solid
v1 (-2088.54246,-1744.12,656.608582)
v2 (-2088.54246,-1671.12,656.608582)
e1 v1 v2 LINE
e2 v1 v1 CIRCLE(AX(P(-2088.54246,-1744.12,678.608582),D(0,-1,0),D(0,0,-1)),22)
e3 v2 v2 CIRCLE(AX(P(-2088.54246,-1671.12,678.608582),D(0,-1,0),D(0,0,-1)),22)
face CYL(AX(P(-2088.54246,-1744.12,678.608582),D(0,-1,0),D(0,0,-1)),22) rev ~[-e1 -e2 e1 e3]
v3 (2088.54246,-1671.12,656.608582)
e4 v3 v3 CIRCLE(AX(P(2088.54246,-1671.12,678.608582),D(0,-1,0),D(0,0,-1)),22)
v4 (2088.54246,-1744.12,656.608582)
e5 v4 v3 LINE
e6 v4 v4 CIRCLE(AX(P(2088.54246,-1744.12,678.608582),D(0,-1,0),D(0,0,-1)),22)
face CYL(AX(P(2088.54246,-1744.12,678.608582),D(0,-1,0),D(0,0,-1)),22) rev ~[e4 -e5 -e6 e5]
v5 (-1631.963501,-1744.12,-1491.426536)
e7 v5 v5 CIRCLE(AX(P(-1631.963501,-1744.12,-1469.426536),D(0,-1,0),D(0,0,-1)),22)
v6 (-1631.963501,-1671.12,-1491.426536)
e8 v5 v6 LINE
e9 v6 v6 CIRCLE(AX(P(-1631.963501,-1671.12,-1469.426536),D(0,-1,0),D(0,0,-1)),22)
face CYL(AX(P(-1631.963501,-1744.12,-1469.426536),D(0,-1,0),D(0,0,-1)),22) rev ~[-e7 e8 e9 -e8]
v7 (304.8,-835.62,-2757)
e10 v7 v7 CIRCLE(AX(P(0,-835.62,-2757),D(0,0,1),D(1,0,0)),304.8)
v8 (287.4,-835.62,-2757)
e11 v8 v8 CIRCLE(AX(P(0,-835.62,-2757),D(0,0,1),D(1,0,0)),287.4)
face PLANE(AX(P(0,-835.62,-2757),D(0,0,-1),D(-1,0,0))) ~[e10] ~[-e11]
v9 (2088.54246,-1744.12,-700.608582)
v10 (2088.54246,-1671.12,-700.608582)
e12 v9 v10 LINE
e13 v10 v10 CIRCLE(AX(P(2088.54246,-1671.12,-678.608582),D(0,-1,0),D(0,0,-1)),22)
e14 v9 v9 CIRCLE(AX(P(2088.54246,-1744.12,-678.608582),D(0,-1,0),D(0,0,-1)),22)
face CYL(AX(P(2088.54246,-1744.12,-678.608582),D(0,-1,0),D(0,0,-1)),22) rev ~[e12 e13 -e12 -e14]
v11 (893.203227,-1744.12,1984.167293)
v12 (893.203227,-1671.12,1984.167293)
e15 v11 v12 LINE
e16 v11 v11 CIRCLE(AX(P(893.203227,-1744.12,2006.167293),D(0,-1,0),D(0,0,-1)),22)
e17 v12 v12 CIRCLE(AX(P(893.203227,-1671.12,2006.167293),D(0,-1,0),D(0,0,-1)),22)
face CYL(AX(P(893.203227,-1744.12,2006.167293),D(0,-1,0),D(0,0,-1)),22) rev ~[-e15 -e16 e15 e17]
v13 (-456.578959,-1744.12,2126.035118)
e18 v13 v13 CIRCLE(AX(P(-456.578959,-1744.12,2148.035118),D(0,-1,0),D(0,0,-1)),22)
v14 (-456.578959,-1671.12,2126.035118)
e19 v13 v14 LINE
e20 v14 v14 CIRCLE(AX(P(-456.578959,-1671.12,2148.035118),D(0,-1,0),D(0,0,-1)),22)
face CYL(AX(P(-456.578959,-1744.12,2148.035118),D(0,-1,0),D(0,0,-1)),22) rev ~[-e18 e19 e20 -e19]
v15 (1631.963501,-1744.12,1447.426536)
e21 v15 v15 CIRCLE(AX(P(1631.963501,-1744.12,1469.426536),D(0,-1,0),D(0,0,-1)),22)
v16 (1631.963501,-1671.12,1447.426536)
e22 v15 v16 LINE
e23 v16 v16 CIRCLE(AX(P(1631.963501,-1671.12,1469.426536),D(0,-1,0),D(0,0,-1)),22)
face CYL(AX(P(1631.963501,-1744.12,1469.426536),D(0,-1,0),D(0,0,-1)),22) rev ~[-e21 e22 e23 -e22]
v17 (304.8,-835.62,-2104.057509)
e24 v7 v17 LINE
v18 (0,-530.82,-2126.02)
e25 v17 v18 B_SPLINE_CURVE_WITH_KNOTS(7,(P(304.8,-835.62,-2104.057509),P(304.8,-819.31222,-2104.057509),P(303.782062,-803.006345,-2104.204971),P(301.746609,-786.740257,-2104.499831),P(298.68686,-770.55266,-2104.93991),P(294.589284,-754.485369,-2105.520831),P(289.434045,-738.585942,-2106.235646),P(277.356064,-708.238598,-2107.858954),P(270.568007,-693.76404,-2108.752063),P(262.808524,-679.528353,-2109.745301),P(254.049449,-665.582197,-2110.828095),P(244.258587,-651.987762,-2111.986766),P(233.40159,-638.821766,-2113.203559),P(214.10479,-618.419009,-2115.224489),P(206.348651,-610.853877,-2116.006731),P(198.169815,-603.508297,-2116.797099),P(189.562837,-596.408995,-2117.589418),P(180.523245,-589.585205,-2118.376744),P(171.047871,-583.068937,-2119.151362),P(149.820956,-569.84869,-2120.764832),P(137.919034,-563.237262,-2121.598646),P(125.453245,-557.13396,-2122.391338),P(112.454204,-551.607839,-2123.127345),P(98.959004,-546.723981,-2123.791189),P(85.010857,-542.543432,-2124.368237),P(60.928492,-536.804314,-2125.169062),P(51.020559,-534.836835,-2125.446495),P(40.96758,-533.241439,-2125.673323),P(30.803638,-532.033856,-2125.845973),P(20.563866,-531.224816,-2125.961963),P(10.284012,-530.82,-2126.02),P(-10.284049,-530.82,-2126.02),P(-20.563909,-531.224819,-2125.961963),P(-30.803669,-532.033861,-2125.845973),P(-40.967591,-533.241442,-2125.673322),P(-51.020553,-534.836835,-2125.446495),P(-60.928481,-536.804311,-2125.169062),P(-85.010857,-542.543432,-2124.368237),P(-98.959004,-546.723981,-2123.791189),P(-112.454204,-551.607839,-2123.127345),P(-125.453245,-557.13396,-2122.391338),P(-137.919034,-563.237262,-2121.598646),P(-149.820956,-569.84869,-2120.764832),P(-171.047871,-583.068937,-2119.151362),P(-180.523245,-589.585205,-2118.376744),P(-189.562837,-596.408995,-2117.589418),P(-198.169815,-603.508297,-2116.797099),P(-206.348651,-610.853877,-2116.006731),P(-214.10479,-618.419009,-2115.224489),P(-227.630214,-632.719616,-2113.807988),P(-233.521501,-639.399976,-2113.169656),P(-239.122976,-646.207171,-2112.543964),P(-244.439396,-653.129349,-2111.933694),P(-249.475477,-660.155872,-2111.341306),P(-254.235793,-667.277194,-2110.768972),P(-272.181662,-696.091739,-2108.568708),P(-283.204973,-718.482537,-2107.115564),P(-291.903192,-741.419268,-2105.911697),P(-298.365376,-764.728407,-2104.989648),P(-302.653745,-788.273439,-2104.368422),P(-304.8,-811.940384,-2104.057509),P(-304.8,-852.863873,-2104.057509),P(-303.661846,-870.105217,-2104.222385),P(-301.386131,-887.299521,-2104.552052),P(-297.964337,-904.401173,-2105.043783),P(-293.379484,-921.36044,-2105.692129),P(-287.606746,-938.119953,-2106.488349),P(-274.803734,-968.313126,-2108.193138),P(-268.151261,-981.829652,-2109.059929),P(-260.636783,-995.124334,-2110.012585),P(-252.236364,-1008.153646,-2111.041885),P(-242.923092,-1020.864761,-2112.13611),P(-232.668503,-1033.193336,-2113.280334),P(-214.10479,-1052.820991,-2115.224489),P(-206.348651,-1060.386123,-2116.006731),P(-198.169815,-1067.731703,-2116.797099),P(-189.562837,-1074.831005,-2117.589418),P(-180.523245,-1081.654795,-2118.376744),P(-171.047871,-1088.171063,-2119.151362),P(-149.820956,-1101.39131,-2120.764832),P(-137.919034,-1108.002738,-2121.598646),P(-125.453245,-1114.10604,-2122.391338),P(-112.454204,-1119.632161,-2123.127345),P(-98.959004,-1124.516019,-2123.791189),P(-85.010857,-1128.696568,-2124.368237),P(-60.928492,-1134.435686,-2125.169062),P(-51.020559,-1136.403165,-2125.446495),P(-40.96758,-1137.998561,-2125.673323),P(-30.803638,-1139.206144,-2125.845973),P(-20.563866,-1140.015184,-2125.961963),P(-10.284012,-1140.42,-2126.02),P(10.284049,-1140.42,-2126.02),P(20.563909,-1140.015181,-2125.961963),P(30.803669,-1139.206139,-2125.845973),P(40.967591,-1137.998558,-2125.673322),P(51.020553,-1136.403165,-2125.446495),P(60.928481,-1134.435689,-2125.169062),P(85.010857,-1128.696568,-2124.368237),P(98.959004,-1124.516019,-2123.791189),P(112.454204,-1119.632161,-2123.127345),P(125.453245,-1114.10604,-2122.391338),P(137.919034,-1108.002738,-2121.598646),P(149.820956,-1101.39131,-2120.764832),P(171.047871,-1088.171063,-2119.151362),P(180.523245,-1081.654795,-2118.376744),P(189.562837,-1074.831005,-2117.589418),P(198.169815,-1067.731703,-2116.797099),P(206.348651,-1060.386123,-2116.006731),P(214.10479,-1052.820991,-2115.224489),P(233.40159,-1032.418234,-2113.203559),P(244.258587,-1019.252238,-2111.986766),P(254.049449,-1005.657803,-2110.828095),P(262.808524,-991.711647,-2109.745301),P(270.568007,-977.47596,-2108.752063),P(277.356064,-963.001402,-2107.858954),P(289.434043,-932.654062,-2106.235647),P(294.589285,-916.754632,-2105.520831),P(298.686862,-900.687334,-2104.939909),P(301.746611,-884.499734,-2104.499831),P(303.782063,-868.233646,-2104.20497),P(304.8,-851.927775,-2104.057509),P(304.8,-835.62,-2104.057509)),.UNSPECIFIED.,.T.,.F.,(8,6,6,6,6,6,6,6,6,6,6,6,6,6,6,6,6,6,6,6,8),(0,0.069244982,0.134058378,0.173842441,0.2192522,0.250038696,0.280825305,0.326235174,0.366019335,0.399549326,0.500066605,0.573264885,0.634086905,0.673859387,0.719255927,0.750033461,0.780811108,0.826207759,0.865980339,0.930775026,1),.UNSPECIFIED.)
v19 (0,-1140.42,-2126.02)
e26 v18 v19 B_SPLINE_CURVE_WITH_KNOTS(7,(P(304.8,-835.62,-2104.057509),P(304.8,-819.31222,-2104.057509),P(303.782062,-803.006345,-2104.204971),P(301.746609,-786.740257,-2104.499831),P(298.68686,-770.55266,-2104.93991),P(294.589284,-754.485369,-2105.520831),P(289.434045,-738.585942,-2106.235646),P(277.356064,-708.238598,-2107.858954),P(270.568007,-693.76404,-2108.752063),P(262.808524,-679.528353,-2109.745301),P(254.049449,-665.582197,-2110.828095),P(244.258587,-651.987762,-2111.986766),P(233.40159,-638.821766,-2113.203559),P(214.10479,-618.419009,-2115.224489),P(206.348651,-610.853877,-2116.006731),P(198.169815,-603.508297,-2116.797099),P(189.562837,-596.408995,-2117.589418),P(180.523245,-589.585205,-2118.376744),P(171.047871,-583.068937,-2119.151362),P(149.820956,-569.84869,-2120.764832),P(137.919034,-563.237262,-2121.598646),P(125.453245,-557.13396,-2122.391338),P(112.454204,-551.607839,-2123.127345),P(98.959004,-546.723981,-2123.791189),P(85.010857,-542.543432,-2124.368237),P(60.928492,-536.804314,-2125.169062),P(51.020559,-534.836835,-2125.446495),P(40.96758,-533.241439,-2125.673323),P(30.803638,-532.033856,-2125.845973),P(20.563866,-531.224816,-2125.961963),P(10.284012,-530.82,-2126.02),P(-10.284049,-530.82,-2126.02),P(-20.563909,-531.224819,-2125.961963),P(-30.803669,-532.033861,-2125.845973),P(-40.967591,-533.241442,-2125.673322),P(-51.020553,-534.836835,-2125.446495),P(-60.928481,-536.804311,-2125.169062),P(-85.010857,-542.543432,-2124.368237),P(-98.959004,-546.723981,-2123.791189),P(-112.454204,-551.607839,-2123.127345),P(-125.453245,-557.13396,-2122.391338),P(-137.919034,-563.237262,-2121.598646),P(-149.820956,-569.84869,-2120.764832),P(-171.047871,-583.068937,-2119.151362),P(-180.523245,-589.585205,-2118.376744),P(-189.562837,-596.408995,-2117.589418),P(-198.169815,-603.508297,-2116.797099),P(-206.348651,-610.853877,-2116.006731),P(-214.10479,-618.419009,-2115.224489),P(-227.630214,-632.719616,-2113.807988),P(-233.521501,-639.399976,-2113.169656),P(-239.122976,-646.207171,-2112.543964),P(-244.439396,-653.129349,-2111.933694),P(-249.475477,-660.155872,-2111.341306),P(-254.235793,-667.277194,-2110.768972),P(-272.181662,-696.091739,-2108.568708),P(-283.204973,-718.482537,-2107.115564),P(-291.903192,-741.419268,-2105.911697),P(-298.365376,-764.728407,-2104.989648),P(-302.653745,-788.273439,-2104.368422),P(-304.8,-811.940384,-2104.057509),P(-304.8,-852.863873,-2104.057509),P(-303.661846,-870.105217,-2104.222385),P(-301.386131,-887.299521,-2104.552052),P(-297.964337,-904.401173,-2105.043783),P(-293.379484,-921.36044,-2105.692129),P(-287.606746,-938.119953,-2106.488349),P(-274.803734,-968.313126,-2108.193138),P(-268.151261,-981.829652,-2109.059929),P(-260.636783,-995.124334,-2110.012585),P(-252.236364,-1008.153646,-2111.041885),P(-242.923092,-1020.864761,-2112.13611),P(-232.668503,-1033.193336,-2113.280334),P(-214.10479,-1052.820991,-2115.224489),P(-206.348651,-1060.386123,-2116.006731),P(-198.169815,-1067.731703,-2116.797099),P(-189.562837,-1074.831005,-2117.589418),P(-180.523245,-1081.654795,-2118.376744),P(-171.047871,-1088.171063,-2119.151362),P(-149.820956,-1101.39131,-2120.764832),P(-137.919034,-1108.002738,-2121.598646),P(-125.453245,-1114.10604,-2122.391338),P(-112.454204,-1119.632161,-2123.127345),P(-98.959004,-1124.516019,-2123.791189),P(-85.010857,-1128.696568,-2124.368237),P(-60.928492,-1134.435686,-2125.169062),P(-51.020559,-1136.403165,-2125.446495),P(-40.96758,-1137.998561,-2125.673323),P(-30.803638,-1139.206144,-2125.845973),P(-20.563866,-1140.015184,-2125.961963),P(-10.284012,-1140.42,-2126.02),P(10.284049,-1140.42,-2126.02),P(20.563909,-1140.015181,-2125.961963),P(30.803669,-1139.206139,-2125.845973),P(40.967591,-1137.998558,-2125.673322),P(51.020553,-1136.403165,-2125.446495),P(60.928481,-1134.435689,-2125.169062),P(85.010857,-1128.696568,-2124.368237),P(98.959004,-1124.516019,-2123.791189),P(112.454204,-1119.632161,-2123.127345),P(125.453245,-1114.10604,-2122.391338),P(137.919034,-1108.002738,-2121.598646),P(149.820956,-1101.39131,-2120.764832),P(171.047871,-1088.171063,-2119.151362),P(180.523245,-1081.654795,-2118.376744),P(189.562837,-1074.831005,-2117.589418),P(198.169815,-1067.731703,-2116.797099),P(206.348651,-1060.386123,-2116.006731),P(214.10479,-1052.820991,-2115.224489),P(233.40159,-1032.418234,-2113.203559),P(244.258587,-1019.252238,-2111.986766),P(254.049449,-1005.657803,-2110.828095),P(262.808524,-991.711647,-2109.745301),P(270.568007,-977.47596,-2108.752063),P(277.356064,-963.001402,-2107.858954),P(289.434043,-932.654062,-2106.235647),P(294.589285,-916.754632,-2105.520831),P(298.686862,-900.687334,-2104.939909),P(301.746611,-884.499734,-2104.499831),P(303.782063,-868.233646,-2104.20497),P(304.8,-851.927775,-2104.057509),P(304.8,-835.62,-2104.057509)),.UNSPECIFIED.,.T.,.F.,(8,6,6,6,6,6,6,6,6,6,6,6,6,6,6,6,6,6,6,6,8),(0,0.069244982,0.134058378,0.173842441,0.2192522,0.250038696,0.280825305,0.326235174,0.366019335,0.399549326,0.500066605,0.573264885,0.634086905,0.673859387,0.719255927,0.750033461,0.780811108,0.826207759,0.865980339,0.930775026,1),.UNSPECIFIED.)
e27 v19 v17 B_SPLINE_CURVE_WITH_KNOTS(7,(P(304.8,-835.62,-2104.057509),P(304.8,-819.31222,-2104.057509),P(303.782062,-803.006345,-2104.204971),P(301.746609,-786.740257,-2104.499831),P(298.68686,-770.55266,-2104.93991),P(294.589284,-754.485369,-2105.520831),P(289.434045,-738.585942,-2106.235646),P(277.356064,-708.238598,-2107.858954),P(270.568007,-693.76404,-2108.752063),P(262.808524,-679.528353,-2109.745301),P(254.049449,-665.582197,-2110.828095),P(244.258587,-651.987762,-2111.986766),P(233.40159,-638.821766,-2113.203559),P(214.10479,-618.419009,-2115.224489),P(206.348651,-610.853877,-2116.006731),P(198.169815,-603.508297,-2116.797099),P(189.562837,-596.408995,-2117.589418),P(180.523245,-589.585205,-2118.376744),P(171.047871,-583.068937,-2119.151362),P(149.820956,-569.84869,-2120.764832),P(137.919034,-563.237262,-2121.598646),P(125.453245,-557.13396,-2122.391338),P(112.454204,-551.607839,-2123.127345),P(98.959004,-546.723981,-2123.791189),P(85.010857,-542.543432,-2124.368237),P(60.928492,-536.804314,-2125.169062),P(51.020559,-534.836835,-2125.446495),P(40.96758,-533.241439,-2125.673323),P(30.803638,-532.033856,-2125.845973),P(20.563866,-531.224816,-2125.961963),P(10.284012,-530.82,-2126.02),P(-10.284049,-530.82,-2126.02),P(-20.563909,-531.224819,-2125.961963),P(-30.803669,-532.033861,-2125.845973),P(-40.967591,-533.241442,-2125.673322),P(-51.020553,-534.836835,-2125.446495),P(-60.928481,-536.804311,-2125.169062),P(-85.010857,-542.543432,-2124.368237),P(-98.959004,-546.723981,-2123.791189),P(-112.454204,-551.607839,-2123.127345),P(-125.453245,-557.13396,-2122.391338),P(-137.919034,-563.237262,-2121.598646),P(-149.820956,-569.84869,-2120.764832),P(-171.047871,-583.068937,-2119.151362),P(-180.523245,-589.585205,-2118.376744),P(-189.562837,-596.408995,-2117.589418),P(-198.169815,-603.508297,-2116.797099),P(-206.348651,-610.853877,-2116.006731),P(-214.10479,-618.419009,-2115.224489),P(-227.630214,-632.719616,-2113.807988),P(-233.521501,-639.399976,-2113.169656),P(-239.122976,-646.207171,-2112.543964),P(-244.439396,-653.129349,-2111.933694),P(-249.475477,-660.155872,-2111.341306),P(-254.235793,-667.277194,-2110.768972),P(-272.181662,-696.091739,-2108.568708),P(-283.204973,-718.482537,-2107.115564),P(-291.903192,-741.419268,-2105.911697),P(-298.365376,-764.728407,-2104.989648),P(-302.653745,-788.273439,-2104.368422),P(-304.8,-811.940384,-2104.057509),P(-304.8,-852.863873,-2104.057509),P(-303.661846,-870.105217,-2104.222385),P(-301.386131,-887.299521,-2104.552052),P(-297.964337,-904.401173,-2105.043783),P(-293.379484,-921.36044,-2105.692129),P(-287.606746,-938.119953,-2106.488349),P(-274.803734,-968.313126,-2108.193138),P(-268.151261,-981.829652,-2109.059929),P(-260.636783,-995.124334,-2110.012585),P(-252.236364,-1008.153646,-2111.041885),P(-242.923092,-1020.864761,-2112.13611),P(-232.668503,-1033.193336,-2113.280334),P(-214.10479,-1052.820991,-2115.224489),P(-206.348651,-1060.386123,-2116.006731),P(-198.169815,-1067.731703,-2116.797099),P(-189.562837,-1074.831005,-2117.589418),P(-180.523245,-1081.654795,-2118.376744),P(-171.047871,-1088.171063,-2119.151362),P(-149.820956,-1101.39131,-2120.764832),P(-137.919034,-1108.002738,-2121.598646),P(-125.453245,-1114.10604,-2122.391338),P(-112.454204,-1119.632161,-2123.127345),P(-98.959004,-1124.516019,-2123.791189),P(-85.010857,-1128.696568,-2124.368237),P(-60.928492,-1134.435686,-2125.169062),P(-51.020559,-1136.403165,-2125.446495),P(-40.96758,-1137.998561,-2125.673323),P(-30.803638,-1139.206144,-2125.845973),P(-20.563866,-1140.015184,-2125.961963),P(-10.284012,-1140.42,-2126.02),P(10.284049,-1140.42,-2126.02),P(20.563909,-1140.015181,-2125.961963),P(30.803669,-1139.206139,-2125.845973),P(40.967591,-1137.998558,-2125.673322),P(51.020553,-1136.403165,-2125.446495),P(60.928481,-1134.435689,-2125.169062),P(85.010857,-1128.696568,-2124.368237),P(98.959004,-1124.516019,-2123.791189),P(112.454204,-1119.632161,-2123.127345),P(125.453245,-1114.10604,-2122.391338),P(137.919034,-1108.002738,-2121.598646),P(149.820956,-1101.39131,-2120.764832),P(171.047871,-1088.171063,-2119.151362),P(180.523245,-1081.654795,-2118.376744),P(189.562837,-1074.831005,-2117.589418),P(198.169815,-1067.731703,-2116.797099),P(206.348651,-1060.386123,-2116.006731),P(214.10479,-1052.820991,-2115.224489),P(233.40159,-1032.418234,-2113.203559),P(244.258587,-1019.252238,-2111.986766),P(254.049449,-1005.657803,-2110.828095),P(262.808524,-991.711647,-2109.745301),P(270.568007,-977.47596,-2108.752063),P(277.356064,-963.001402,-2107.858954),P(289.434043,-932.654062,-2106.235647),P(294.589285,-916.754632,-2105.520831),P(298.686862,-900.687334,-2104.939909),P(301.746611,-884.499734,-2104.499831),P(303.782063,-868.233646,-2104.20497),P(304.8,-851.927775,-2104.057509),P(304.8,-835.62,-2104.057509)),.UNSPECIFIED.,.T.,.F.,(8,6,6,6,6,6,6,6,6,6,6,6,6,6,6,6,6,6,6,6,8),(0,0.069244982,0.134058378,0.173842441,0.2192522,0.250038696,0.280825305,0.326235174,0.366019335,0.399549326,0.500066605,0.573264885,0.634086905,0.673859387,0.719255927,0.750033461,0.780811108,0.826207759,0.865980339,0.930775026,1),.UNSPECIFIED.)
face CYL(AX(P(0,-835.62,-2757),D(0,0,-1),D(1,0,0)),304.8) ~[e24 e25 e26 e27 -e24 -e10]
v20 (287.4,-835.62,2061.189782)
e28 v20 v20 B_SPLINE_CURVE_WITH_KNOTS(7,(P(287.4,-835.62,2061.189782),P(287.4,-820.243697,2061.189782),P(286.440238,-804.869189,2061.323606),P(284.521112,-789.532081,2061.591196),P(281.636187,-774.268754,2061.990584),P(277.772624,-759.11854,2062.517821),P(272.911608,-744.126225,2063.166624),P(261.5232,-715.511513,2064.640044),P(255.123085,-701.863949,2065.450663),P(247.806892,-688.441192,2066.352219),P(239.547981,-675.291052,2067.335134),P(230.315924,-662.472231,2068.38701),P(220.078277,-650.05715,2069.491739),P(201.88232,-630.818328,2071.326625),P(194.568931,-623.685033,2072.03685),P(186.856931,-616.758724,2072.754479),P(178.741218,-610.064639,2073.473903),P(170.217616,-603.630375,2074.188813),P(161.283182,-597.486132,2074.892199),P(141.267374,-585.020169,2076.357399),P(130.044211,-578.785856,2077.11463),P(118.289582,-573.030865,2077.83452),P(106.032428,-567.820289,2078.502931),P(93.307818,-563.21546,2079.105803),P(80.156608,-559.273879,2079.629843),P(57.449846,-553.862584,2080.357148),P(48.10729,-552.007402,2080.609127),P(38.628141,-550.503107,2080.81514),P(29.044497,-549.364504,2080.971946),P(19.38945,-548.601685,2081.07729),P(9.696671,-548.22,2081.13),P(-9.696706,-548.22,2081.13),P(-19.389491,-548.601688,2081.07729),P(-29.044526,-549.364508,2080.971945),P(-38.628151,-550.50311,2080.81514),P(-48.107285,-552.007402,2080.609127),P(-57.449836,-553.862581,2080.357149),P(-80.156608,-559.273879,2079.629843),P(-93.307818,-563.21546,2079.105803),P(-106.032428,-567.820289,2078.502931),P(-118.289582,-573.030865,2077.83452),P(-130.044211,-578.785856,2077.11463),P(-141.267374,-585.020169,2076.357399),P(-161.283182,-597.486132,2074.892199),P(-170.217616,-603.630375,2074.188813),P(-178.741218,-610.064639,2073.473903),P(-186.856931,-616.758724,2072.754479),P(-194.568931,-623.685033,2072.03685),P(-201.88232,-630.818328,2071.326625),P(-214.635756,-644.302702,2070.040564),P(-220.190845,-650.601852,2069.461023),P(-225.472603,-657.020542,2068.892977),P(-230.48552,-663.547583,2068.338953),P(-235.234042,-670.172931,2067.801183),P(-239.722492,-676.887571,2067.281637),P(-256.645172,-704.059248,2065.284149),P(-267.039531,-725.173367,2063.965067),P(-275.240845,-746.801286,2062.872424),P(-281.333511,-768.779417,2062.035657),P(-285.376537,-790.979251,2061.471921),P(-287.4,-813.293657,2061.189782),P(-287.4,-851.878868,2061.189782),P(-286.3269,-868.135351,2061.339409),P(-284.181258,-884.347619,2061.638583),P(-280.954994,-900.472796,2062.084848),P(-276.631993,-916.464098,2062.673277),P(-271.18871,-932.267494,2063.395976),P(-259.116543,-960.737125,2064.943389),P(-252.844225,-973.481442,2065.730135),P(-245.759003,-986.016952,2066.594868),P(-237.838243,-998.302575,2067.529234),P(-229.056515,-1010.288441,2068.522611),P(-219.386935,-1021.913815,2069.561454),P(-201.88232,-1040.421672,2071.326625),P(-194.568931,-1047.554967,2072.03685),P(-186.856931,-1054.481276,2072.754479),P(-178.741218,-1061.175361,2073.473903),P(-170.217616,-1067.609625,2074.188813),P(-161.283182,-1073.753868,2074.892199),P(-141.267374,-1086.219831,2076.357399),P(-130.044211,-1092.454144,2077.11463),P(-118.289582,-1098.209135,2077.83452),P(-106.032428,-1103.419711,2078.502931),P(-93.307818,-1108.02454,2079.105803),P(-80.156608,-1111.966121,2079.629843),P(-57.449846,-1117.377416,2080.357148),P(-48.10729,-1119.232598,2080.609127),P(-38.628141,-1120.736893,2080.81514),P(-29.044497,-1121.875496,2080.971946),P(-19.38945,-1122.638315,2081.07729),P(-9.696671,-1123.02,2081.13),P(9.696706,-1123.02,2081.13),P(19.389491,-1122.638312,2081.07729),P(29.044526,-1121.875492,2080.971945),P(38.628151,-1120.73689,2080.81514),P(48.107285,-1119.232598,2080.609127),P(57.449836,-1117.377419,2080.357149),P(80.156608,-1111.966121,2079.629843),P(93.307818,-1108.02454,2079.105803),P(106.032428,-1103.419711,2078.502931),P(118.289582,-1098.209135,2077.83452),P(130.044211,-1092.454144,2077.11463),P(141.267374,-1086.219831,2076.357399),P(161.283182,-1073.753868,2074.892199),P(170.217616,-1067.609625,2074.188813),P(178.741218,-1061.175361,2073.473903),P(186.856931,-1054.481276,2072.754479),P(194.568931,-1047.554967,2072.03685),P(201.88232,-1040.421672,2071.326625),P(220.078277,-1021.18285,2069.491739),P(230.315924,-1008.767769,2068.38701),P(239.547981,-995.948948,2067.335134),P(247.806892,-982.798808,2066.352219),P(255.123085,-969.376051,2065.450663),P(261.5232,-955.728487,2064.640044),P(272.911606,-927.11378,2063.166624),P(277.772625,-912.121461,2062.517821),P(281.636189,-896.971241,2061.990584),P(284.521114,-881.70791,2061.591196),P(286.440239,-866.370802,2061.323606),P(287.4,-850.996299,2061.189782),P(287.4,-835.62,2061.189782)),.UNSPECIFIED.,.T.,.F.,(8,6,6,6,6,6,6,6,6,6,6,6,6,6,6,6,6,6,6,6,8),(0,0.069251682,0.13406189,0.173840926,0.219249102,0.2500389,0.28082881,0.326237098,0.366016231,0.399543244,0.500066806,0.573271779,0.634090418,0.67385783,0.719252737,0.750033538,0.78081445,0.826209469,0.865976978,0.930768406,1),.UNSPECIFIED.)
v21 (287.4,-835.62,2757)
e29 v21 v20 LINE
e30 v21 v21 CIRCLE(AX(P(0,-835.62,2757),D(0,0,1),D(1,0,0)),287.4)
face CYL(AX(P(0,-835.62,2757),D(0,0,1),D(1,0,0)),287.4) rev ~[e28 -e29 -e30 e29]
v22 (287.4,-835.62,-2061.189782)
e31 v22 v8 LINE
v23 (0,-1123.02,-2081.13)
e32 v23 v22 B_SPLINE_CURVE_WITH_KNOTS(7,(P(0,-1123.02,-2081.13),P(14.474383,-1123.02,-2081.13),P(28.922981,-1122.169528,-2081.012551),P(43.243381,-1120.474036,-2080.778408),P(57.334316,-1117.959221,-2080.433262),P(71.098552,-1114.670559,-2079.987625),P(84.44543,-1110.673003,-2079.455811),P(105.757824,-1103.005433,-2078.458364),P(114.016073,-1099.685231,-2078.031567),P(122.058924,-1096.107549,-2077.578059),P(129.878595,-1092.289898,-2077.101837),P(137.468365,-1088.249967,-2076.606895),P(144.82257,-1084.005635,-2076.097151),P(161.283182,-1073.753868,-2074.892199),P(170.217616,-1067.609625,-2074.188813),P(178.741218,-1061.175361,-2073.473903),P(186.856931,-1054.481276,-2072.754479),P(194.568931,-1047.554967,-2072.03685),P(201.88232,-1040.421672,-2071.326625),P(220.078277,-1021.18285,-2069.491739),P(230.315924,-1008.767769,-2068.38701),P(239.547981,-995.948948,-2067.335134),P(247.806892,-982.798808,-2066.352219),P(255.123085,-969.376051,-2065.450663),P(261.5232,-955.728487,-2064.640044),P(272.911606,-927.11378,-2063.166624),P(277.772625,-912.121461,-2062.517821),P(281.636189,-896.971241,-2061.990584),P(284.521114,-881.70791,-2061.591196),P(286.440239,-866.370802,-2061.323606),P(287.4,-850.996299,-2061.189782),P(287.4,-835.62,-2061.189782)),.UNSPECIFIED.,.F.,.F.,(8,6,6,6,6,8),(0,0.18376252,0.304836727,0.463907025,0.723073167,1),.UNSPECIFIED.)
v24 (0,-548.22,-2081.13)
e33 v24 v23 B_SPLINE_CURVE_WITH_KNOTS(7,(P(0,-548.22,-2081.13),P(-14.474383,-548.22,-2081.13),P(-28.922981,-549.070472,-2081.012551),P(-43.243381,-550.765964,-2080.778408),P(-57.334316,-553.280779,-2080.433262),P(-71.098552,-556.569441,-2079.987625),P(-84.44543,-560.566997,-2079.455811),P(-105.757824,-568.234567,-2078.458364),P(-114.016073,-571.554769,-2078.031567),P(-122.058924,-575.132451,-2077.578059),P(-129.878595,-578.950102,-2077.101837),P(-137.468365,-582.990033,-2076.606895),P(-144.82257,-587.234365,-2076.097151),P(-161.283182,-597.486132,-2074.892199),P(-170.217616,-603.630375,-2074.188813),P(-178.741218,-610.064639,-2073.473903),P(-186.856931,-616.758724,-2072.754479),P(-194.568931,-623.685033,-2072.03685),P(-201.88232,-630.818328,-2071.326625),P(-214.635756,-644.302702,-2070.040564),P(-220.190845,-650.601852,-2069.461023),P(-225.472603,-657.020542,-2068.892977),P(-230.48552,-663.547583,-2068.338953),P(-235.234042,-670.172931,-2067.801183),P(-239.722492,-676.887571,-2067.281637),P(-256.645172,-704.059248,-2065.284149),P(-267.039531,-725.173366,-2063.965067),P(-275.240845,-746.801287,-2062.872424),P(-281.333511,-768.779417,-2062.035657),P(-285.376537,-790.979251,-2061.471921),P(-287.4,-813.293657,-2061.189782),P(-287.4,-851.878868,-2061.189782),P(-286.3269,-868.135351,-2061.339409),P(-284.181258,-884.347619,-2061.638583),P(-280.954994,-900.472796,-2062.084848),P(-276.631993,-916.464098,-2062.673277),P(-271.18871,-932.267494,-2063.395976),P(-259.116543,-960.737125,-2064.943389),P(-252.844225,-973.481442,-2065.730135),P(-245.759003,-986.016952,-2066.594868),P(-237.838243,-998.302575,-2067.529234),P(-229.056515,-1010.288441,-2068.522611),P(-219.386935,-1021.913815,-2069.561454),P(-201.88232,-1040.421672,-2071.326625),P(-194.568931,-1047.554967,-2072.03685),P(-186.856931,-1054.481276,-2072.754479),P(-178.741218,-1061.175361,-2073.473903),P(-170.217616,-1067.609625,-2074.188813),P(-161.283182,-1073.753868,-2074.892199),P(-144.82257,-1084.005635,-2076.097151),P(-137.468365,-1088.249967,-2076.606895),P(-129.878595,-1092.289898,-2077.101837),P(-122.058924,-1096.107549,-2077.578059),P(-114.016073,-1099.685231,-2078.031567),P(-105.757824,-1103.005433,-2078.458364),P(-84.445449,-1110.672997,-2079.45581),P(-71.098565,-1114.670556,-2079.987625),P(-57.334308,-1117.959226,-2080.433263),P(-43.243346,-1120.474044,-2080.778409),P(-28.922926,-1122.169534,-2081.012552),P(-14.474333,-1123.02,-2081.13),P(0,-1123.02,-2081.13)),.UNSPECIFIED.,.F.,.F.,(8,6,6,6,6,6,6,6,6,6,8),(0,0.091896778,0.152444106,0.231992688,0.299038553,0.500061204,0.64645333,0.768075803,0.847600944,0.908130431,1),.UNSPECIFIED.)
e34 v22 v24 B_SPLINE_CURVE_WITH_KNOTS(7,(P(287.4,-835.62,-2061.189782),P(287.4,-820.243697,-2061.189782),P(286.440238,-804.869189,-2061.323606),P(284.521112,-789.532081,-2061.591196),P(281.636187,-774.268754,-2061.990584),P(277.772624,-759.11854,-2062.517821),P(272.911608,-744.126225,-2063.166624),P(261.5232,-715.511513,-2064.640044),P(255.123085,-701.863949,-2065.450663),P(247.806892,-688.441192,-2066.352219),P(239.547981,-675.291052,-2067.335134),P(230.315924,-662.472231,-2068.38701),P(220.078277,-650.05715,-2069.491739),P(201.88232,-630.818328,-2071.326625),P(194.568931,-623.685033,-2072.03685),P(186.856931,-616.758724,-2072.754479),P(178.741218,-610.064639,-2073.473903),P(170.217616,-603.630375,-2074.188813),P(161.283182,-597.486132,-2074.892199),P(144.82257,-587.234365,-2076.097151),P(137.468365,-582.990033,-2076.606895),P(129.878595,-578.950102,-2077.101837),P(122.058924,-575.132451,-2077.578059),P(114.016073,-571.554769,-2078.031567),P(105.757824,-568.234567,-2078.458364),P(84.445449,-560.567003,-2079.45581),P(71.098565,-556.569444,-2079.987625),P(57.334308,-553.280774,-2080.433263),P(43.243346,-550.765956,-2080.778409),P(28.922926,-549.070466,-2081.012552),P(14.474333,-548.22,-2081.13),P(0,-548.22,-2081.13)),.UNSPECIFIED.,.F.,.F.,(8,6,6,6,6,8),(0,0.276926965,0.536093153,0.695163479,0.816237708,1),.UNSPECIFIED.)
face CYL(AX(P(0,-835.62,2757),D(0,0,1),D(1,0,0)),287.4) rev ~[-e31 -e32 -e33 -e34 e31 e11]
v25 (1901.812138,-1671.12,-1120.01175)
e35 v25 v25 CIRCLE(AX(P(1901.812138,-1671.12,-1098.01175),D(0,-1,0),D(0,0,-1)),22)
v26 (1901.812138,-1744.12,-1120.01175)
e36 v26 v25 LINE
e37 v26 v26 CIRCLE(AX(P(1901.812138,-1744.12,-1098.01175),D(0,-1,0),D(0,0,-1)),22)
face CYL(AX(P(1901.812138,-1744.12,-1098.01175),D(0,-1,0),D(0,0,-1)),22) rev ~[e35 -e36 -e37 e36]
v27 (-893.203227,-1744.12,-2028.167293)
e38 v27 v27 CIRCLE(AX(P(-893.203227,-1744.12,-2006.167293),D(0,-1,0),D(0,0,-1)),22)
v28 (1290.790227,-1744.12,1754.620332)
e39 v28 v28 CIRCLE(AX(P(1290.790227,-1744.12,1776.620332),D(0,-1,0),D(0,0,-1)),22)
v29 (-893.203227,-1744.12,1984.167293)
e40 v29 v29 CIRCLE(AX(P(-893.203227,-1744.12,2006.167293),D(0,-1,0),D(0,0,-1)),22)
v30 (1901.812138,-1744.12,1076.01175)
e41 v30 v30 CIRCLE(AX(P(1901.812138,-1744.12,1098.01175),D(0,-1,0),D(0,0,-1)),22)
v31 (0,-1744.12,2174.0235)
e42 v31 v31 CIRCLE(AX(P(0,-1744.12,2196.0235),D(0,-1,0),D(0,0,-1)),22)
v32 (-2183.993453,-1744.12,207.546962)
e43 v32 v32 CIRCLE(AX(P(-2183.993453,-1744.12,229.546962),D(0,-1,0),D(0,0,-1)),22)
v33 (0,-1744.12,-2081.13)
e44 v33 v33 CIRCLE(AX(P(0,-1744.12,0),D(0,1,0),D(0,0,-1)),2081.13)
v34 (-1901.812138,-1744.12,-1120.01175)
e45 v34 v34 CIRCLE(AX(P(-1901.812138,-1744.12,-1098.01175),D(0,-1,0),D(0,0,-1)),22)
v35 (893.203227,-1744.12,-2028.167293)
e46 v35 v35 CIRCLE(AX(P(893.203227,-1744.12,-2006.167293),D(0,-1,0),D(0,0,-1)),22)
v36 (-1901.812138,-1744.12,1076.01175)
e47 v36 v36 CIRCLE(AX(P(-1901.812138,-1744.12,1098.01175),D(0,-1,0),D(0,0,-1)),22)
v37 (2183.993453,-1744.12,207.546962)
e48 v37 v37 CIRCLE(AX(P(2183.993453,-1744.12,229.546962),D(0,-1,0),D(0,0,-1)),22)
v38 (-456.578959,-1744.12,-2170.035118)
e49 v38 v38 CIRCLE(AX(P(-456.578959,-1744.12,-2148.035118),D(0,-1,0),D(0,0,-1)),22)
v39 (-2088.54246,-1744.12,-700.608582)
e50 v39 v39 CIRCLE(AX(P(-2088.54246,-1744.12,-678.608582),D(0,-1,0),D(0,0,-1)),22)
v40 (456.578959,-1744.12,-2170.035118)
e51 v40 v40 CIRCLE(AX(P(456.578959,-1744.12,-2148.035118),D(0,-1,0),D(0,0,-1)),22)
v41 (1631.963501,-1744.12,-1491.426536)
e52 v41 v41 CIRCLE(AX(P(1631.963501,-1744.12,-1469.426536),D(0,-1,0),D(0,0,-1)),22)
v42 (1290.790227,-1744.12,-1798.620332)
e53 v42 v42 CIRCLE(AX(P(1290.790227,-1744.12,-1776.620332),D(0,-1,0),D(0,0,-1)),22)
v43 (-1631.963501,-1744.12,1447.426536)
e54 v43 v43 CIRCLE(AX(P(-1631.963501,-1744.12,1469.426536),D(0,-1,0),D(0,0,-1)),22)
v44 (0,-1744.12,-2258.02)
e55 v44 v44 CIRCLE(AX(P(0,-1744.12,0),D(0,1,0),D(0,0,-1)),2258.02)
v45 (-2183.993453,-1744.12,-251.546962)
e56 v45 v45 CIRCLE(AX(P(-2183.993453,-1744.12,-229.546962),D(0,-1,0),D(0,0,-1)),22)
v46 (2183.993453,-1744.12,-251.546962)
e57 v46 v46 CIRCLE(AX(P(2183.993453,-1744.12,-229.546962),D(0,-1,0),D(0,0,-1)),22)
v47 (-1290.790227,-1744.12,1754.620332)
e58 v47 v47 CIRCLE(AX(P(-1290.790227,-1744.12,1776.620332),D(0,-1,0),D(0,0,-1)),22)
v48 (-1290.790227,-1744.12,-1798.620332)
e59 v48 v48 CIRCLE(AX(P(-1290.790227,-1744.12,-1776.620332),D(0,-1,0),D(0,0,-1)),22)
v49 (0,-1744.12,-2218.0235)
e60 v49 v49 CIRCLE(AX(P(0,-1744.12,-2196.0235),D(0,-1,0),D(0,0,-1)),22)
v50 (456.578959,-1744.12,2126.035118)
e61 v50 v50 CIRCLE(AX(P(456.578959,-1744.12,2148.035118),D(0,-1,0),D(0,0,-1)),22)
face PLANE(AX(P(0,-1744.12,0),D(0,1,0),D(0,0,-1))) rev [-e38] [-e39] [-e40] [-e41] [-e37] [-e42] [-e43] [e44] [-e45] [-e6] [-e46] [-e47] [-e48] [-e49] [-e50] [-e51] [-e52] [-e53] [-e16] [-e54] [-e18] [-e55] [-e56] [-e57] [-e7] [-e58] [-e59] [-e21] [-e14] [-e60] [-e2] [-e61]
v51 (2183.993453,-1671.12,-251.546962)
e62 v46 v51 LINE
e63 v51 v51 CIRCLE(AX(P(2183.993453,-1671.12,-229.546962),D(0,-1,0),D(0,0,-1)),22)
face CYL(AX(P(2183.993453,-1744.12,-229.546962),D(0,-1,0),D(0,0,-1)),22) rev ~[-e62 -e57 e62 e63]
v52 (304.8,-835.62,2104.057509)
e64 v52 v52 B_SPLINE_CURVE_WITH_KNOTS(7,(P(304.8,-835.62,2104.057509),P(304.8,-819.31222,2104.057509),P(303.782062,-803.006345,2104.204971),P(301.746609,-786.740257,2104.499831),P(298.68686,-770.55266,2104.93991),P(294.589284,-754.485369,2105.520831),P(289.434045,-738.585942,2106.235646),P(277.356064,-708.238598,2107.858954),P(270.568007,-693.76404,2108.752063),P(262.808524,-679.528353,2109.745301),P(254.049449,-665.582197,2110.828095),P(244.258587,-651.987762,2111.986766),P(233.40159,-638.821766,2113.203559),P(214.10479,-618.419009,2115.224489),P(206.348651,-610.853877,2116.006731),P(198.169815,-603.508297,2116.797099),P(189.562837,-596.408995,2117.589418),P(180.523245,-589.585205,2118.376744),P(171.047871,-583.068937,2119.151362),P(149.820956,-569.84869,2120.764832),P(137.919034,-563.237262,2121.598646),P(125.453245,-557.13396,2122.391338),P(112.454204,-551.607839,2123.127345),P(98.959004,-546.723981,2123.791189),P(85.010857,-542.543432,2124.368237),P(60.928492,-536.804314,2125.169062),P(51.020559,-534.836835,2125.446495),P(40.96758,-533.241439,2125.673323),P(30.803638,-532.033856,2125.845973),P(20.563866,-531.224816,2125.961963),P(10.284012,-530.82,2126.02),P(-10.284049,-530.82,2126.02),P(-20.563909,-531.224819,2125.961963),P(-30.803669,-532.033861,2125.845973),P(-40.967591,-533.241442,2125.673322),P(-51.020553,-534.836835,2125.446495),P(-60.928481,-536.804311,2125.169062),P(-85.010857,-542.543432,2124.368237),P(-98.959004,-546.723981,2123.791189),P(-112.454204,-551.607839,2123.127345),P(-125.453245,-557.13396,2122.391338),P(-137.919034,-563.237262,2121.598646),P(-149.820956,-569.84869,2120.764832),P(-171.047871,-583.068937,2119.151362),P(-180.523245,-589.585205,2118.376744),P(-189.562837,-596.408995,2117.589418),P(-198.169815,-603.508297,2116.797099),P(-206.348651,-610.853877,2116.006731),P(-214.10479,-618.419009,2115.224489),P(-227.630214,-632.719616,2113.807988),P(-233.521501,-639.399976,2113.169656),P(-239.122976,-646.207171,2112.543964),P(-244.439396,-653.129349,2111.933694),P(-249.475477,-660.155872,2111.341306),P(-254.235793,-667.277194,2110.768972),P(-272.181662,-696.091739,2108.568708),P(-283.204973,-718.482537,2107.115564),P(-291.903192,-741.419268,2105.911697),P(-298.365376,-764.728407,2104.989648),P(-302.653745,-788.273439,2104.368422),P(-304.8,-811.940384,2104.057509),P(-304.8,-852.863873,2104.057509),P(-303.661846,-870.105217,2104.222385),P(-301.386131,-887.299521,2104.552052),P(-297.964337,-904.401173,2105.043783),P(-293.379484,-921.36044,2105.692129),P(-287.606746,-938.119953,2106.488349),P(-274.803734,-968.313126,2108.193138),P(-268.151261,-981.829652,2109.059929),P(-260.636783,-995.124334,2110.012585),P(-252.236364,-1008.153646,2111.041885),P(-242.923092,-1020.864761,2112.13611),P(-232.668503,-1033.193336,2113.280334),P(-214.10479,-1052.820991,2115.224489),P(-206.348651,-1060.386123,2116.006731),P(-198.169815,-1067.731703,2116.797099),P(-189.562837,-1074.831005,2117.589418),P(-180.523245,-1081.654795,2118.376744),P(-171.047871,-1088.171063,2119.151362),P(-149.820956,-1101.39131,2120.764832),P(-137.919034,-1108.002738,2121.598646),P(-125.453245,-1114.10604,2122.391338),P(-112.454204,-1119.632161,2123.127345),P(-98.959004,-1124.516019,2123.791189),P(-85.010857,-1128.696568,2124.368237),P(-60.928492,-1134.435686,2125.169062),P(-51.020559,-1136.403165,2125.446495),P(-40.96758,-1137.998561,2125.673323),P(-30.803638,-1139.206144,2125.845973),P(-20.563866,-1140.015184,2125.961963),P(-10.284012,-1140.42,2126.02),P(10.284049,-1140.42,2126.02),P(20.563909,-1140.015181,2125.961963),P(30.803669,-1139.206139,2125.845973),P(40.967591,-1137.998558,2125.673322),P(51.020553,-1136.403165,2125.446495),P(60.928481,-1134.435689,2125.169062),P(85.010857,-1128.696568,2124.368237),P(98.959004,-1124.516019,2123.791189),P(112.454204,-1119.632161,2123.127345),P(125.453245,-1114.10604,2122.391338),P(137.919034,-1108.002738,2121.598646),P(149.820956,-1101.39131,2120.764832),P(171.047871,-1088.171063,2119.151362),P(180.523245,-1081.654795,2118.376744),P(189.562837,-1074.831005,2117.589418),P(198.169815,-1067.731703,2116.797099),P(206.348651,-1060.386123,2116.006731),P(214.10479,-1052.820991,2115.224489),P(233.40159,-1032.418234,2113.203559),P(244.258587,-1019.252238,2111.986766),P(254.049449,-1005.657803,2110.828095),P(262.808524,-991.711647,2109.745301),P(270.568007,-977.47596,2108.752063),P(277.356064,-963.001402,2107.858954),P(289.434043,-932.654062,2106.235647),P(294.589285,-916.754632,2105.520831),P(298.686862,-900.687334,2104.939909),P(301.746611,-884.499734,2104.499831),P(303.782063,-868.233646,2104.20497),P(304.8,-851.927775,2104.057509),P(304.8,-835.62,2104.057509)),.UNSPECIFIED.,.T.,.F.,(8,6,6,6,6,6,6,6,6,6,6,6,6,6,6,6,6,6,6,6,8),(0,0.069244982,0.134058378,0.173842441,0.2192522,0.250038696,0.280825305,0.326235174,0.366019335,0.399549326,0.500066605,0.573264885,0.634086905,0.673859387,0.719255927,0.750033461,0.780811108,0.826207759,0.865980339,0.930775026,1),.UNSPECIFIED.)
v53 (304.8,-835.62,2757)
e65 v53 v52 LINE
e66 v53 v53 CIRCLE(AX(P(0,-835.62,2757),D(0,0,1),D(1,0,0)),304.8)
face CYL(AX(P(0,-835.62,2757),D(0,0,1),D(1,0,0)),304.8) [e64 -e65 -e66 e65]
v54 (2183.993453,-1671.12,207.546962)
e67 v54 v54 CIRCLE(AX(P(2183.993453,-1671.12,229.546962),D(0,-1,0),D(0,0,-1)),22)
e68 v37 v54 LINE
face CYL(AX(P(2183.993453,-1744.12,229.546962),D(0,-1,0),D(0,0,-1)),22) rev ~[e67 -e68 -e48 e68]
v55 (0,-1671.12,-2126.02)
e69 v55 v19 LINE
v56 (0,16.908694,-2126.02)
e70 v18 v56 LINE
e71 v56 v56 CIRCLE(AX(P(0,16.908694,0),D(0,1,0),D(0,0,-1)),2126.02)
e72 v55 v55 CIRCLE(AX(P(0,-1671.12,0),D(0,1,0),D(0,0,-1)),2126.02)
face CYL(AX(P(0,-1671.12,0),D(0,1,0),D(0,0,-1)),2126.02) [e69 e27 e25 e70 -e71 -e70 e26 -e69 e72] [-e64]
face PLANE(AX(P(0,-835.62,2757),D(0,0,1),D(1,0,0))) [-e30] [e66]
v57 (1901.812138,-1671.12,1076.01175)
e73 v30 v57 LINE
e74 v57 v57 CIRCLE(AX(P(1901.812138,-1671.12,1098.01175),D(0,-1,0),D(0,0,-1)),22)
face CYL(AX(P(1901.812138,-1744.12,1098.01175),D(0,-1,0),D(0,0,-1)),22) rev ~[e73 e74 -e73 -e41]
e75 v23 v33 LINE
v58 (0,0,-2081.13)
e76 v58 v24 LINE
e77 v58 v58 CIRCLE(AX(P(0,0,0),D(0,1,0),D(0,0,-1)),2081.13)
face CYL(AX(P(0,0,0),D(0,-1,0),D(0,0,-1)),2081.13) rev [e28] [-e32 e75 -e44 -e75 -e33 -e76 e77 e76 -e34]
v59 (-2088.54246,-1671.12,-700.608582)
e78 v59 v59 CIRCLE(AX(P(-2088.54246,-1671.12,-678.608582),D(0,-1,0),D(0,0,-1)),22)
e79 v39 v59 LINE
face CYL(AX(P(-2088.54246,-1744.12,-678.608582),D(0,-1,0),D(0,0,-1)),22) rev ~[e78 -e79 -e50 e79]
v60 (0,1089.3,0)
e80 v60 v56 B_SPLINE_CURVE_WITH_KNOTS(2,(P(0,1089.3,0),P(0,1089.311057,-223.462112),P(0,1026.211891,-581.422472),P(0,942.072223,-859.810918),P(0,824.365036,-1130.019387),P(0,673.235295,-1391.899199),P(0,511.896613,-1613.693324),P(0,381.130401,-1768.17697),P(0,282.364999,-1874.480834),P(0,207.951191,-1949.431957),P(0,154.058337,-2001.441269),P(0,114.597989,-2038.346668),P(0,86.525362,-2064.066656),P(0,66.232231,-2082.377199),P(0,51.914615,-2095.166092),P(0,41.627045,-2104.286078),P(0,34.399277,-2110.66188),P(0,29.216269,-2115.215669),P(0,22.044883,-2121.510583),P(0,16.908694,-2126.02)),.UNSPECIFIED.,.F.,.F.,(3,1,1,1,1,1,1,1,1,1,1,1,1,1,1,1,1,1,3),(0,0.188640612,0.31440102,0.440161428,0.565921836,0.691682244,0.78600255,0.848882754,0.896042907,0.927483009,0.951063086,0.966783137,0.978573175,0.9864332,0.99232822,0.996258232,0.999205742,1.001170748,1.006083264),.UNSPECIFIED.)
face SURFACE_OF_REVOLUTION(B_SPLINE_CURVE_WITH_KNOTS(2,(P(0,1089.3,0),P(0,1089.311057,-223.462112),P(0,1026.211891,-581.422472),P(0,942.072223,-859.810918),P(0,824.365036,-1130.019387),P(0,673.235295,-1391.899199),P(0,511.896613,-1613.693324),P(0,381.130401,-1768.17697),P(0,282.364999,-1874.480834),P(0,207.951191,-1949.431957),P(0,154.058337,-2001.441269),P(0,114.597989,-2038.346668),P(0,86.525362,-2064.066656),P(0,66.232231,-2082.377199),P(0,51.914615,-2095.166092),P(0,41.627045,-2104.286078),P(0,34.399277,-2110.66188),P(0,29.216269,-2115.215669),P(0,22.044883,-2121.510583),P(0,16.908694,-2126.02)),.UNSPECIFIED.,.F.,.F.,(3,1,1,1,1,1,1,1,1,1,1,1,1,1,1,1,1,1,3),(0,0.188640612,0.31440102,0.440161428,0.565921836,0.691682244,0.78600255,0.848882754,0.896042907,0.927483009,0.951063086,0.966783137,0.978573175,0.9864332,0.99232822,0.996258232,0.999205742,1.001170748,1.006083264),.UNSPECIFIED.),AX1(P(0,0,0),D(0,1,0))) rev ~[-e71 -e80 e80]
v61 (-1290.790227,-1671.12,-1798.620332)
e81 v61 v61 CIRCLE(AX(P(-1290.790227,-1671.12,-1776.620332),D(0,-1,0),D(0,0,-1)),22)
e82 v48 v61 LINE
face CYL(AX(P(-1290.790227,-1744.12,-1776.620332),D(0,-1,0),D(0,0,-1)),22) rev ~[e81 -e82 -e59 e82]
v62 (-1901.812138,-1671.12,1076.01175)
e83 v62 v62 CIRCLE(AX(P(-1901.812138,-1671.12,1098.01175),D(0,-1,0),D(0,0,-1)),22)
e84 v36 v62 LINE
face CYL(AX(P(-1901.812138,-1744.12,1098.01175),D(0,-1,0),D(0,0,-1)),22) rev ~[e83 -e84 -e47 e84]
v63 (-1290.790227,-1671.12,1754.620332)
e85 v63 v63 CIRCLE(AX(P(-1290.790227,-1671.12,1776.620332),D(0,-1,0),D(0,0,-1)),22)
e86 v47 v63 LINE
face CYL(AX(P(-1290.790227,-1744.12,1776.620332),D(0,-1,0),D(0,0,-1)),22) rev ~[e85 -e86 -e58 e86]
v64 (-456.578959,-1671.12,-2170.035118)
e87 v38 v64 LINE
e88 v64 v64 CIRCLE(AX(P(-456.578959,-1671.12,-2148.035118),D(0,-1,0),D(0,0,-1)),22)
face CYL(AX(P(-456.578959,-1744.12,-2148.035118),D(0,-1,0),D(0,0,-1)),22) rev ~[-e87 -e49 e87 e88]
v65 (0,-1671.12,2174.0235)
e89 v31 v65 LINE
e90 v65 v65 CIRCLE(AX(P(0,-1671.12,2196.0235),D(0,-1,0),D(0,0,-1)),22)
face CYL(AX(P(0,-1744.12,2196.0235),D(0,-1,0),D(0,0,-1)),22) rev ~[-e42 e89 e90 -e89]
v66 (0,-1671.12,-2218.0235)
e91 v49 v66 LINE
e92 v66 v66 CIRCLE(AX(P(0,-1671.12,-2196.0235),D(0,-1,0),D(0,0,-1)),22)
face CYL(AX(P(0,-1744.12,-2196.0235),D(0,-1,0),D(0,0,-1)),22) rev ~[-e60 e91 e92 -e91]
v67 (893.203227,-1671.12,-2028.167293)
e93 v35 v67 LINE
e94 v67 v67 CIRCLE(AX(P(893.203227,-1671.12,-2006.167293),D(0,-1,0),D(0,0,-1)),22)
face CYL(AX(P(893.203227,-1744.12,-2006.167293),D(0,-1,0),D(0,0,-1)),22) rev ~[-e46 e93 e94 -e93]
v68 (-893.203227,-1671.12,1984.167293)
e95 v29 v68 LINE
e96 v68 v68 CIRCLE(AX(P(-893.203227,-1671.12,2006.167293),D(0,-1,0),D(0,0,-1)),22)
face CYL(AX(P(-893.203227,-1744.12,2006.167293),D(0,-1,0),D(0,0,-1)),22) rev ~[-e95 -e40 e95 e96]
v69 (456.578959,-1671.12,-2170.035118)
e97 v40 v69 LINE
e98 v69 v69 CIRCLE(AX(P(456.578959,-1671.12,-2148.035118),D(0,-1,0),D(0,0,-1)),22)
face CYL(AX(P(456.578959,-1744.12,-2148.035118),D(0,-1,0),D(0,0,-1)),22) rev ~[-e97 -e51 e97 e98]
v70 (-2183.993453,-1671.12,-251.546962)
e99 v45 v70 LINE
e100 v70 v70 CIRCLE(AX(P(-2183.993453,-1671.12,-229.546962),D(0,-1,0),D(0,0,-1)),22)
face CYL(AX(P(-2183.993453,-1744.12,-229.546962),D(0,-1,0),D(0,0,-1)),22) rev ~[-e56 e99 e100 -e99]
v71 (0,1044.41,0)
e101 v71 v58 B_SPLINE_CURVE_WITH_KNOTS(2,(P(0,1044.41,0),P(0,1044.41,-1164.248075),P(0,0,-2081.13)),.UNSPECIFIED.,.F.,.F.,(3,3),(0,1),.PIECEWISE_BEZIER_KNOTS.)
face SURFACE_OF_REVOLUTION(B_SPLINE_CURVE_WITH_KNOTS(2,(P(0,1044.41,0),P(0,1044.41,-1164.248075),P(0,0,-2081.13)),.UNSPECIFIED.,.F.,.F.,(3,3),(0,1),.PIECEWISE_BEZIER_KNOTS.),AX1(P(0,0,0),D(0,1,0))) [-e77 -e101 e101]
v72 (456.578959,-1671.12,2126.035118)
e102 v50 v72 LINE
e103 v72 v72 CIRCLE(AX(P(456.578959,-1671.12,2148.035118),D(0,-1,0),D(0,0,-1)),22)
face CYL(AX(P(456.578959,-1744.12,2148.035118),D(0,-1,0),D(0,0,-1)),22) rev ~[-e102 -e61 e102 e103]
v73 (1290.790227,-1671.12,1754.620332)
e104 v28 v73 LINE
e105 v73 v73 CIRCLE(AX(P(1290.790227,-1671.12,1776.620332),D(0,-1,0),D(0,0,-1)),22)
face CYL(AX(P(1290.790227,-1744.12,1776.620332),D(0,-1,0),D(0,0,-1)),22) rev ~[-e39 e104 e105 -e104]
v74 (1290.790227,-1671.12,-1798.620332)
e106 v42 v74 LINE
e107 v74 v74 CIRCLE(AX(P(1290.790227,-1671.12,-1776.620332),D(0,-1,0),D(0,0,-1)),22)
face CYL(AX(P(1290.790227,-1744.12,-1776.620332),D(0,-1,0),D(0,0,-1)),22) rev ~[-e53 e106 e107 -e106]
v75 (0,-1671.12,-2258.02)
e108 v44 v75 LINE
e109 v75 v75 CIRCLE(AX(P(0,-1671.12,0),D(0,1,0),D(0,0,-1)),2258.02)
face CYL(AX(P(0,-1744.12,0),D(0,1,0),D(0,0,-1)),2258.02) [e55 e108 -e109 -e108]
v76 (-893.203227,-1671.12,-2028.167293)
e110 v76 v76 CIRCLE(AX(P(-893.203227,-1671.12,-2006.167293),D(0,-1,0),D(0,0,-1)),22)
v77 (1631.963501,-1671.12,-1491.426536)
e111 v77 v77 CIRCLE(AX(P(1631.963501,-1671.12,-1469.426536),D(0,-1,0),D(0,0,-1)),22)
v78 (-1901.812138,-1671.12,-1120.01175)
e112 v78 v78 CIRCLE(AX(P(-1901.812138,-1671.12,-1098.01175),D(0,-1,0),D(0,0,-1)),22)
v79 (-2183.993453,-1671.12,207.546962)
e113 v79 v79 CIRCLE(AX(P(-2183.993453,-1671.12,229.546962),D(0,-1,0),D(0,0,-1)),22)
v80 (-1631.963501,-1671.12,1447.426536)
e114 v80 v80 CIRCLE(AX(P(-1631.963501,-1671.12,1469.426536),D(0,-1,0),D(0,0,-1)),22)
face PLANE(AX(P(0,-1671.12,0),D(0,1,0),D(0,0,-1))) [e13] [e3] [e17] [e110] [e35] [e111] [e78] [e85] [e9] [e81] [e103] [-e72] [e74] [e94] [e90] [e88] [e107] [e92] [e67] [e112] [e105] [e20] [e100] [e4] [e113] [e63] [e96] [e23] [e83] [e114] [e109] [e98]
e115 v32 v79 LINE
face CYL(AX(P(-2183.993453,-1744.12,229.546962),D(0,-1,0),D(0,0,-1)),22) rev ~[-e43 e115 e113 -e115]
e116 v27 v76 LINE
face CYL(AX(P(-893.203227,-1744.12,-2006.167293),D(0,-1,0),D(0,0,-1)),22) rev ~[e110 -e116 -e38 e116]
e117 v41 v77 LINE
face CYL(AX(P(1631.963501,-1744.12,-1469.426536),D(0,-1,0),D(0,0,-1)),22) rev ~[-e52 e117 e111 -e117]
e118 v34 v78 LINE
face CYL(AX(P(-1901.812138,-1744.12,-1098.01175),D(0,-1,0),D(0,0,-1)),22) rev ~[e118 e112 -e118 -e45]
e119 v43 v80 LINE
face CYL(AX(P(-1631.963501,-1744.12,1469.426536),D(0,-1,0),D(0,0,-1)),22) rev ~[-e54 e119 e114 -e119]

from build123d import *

# Parameters (mm, degrees)
BOSS_EXTRUDE1_REACH      = 5771.838
BOSS_EXTRUDE1_END_RADIUS = 2126.02
SKETCH3_R                = 304.8
SKETCH4_R                = 287.4
CUT_EXTRUDE1_DEPTH       = 6209.446254571
SKETCH5_R                = 22
CUT_EXTRUDE2_DEPTH       = 73


with BuildPart() as part:
    # Sketch1 → Revolve1 (revolve)
    with BuildSketch(Plane(origin=(0, 0, 0), x_dir=(0, 0, -1), z_dir=(1, 0, 0)), mode=Mode.PRIVATE) as revolve1_sk:
        with BuildLine():
            Line((-2081.13, 0), (-2081.13, -1744.12))
            Line((-2081.13, -1744.12), (-2258.02, -1744.12))
            Line((-2258.02, -1744.12), (-2258.02, -1671.12))
            Line((-2258.02, -1671.12), (-2126.02, -1671.12))
            Line((-2126.02, -1671.12), (-2126.02, 16.908694058))
            add(Edge.make_bspline(
                [(0, 1089.3), (-223.462111711, 1089.311057215), (-581.422471541, 1026.211890554), (-859.810917531, 942.072223216), (-1130.019387147, 824.365036373), (-1391.8991989, 673.235294536), (-1613.69332384, 511.89661327), (-1768.176969901, 381.130401339), (-1874.480833736, 282.364998713), (-1949.431957446, 207.95119084), (-2001.441268917, 154.058336721), (-2038.346667779, 114.5979888), (-2064.066656222, 86.525362358), (-2082.377199325, 66.232230793), (-2095.16609191, 51.91461534), (-2104.286077598, 41.627045393), (-2110.661880175, 34.399277298), (-2115.215669271, 29.216268924), (-2121.510582718, 22.044882998), (-2126.02, 16.908694058)],
                knots=[0, 0, 0, 0.188640612, 0.31440102, 0.440161428, 0.565921836, 0.691682244, 0.78600255, 0.848882754, 0.896042907, 0.927483009, 0.951063086, 0.966783137, 0.978573175, 0.9864332, 0.99232822, 0.996258232, 0.999205742, 1.001170748, 1.006083264, 1.006083264, 1.006083264], degree=2))
            Line((0, 1089.3), (0, 1044.41))
            add(Edge.make_bspline(
                [(0, 1044.41), (-1164.248075476, 1044.41), (-2081.13, 0)],
                knots=[0, 0, 0, 1, 1, 1], degree=2))
        make_face()
    revolve(revolve1_sk.sketch.rotate(Axis((0, 0, 0), (0, 1, 0)), 180), axis=Axis((0, 0, 0), (0, 1, 0)))

    # Boss-Extrude1: up to this cylinder (the profile starts outside it)
    boss_extrude1_end = Plane(origin=(0, -835.62, 0), z_dir=(0, -1, 0)) * Cylinder(BOSS_EXTRUDE1_END_RADIUS, 15796.716, mode=Mode.PRIVATE)
    # Sketch3 → Boss-Extrude1 (add, up to the surface)
    with BuildSketch(Plane.XY.offset(2757), mode=Mode.PRIVATE) as boss_extrude1_sk1:
        with Locations((0, -835.62)):
            Circle(SKETCH3_R)
    boss_extrude1_tool1 = extrude(boss_extrude1_sk1.sketch, amount=-BOSS_EXTRUDE1_REACH, mode=Mode.PRIVATE) - boss_extrude1_end
    boss_extrude1 = boss_extrude1_tool1.solids().sort_by_distance((0, -835.62, 2757))[0]
    add(boss_extrude1)

    # Mirror1: Boss-Extrude1 across plane
    add(boss_extrude1.mirror(Plane.XY))

    # Sketch4 → Cut-Extrude1 (cut, through all)
    with BuildSketch(Plane.XY.offset(2757)):
        with Locations((0, -835.62)):
            Circle(SKETCH4_R)
    extrude(amount=-CUT_EXTRUDE1_DEPTH, mode=Mode.SUBTRACT)

    # Sketch5 → Cut-Extrude2 (cut)
    with BuildSketch(Plane.XZ.offset(1744.12)):
        with Locations(Location((0, 2196.0235, 0), (0, 0, 270))):
            Circle(SKETCH5_R)
        with Locations(Location((456.578958961, 2148.03511768, 0), (0, 0, 270))):
            Circle(SKETCH5_R)
        with Locations(Location((893.203226506, 2006.167293301, 0), (0, 0, 270))):
            Circle(SKETCH5_R)
        with Locations(Location((1290.790226988, 1776.620331547, 0), (0, 0, 270))):
            Circle(SKETCH5_R)
        with Locations(Location((1631.963500652, 1469.426536133, 0), (0, 0, 270))):
            Circle(SKETCH5_R)
        with Locations(Location((1901.812138308, 1098.01175, 0), (0, 0, 270))):
            Circle(SKETCH5_R)
        with Locations(Location((2088.542459612, 678.608581547, 0), (0, 0, 270))):
            Circle(SKETCH5_R)
        with Locations(Location((2183.993453493, 229.546961755, 0), (0, 0, 270))):
            Circle(SKETCH5_R)
        with Locations(Location((2183.993453493, -229.546961755, 0), (0, 0, 270))):
            Circle(SKETCH5_R)
        with Locations(Location((2088.542459612, -678.608581547, 0), (0, 0, 270))):
            Circle(SKETCH5_R)
        with Locations(Location((1901.812138308, -1098.01175, 0), (0, 0, 270))):
            Circle(SKETCH5_R)
        with Locations(Location((1631.963500652, -1469.426536133, 0), (0, 0, 270))):
            Circle(SKETCH5_R)
        with Locations(Location((1290.790226988, -1776.620331547, 0), (0, 0, 270))):
            Circle(SKETCH5_R)
        with Locations(Location((893.203226506, -2006.167293301, 0), (0, 0, 270))):
            Circle(SKETCH5_R)
        with Locations(Location((456.578958961, -2148.03511768, 0), (0, 0, 270))):
            Circle(SKETCH5_R)
        with Locations(Location((0, -2196.0235, 0), (0, 0, 270))):
            Circle(SKETCH5_R)
        with Locations(Location((-456.57895896, -2148.03511768, 0), (0, 0, 270))):
            Circle(SKETCH5_R)
        with Locations(Location((-893.203226505, -2006.167293301, 0), (0, 0, 270))):
            Circle(SKETCH5_R)
        with Locations(Location((-1290.790226988, -1776.620331547, 0), (0, 0, 270))):
            Circle(SKETCH5_R)
        with Locations(Location((-1631.963500652, -1469.426536133, 0), (0, 0, 270))):
            Circle(SKETCH5_R)
        with Locations(Location((-1901.812138307, -1098.01175, 0), (0, 0, 270))):
            Circle(SKETCH5_R)
        with Locations(Location((-2088.542459612, -678.608581547, 0), (0, 0, 270))):
            Circle(SKETCH5_R)
        with Locations(Location((-2183.993453493, -229.546961755, 0), (0, 0, 270))):
            Circle(SKETCH5_R)
        with Locations(Location((-2183.993453493, 229.546961755, 0), (0, 0, 270))):
            Circle(SKETCH5_R)
        with Locations(Location((-2088.542459612, 678.608581547, 0), (0, 0, 270))):
            Circle(SKETCH5_R)
        with Locations(Location((-1901.812138308, 1098.01175, 0), (0, 0, 270))):
            Circle(SKETCH5_R)
        with Locations(Location((-1631.963500652, 1469.426536133, 0), (0, 0, 270))):
            Circle(SKETCH5_R)
        with Locations(Location((-1290.790226988, 1776.620331547, 0), (0, 0, 270))):
            Circle(SKETCH5_R)
        with Locations(Location((-893.203226506, 2006.167293301, 0), (0, 0, 270))):
            Circle(SKETCH5_R)
        with Locations(Location((-456.578958961, 2148.03511768, 0), (0, 0, 270))):
            Circle(SKETCH5_R)
    extrude(amount=-CUT_EXTRUDE2_DEPTH, mode=Mode.SUBTRACT)


solid = part.part
